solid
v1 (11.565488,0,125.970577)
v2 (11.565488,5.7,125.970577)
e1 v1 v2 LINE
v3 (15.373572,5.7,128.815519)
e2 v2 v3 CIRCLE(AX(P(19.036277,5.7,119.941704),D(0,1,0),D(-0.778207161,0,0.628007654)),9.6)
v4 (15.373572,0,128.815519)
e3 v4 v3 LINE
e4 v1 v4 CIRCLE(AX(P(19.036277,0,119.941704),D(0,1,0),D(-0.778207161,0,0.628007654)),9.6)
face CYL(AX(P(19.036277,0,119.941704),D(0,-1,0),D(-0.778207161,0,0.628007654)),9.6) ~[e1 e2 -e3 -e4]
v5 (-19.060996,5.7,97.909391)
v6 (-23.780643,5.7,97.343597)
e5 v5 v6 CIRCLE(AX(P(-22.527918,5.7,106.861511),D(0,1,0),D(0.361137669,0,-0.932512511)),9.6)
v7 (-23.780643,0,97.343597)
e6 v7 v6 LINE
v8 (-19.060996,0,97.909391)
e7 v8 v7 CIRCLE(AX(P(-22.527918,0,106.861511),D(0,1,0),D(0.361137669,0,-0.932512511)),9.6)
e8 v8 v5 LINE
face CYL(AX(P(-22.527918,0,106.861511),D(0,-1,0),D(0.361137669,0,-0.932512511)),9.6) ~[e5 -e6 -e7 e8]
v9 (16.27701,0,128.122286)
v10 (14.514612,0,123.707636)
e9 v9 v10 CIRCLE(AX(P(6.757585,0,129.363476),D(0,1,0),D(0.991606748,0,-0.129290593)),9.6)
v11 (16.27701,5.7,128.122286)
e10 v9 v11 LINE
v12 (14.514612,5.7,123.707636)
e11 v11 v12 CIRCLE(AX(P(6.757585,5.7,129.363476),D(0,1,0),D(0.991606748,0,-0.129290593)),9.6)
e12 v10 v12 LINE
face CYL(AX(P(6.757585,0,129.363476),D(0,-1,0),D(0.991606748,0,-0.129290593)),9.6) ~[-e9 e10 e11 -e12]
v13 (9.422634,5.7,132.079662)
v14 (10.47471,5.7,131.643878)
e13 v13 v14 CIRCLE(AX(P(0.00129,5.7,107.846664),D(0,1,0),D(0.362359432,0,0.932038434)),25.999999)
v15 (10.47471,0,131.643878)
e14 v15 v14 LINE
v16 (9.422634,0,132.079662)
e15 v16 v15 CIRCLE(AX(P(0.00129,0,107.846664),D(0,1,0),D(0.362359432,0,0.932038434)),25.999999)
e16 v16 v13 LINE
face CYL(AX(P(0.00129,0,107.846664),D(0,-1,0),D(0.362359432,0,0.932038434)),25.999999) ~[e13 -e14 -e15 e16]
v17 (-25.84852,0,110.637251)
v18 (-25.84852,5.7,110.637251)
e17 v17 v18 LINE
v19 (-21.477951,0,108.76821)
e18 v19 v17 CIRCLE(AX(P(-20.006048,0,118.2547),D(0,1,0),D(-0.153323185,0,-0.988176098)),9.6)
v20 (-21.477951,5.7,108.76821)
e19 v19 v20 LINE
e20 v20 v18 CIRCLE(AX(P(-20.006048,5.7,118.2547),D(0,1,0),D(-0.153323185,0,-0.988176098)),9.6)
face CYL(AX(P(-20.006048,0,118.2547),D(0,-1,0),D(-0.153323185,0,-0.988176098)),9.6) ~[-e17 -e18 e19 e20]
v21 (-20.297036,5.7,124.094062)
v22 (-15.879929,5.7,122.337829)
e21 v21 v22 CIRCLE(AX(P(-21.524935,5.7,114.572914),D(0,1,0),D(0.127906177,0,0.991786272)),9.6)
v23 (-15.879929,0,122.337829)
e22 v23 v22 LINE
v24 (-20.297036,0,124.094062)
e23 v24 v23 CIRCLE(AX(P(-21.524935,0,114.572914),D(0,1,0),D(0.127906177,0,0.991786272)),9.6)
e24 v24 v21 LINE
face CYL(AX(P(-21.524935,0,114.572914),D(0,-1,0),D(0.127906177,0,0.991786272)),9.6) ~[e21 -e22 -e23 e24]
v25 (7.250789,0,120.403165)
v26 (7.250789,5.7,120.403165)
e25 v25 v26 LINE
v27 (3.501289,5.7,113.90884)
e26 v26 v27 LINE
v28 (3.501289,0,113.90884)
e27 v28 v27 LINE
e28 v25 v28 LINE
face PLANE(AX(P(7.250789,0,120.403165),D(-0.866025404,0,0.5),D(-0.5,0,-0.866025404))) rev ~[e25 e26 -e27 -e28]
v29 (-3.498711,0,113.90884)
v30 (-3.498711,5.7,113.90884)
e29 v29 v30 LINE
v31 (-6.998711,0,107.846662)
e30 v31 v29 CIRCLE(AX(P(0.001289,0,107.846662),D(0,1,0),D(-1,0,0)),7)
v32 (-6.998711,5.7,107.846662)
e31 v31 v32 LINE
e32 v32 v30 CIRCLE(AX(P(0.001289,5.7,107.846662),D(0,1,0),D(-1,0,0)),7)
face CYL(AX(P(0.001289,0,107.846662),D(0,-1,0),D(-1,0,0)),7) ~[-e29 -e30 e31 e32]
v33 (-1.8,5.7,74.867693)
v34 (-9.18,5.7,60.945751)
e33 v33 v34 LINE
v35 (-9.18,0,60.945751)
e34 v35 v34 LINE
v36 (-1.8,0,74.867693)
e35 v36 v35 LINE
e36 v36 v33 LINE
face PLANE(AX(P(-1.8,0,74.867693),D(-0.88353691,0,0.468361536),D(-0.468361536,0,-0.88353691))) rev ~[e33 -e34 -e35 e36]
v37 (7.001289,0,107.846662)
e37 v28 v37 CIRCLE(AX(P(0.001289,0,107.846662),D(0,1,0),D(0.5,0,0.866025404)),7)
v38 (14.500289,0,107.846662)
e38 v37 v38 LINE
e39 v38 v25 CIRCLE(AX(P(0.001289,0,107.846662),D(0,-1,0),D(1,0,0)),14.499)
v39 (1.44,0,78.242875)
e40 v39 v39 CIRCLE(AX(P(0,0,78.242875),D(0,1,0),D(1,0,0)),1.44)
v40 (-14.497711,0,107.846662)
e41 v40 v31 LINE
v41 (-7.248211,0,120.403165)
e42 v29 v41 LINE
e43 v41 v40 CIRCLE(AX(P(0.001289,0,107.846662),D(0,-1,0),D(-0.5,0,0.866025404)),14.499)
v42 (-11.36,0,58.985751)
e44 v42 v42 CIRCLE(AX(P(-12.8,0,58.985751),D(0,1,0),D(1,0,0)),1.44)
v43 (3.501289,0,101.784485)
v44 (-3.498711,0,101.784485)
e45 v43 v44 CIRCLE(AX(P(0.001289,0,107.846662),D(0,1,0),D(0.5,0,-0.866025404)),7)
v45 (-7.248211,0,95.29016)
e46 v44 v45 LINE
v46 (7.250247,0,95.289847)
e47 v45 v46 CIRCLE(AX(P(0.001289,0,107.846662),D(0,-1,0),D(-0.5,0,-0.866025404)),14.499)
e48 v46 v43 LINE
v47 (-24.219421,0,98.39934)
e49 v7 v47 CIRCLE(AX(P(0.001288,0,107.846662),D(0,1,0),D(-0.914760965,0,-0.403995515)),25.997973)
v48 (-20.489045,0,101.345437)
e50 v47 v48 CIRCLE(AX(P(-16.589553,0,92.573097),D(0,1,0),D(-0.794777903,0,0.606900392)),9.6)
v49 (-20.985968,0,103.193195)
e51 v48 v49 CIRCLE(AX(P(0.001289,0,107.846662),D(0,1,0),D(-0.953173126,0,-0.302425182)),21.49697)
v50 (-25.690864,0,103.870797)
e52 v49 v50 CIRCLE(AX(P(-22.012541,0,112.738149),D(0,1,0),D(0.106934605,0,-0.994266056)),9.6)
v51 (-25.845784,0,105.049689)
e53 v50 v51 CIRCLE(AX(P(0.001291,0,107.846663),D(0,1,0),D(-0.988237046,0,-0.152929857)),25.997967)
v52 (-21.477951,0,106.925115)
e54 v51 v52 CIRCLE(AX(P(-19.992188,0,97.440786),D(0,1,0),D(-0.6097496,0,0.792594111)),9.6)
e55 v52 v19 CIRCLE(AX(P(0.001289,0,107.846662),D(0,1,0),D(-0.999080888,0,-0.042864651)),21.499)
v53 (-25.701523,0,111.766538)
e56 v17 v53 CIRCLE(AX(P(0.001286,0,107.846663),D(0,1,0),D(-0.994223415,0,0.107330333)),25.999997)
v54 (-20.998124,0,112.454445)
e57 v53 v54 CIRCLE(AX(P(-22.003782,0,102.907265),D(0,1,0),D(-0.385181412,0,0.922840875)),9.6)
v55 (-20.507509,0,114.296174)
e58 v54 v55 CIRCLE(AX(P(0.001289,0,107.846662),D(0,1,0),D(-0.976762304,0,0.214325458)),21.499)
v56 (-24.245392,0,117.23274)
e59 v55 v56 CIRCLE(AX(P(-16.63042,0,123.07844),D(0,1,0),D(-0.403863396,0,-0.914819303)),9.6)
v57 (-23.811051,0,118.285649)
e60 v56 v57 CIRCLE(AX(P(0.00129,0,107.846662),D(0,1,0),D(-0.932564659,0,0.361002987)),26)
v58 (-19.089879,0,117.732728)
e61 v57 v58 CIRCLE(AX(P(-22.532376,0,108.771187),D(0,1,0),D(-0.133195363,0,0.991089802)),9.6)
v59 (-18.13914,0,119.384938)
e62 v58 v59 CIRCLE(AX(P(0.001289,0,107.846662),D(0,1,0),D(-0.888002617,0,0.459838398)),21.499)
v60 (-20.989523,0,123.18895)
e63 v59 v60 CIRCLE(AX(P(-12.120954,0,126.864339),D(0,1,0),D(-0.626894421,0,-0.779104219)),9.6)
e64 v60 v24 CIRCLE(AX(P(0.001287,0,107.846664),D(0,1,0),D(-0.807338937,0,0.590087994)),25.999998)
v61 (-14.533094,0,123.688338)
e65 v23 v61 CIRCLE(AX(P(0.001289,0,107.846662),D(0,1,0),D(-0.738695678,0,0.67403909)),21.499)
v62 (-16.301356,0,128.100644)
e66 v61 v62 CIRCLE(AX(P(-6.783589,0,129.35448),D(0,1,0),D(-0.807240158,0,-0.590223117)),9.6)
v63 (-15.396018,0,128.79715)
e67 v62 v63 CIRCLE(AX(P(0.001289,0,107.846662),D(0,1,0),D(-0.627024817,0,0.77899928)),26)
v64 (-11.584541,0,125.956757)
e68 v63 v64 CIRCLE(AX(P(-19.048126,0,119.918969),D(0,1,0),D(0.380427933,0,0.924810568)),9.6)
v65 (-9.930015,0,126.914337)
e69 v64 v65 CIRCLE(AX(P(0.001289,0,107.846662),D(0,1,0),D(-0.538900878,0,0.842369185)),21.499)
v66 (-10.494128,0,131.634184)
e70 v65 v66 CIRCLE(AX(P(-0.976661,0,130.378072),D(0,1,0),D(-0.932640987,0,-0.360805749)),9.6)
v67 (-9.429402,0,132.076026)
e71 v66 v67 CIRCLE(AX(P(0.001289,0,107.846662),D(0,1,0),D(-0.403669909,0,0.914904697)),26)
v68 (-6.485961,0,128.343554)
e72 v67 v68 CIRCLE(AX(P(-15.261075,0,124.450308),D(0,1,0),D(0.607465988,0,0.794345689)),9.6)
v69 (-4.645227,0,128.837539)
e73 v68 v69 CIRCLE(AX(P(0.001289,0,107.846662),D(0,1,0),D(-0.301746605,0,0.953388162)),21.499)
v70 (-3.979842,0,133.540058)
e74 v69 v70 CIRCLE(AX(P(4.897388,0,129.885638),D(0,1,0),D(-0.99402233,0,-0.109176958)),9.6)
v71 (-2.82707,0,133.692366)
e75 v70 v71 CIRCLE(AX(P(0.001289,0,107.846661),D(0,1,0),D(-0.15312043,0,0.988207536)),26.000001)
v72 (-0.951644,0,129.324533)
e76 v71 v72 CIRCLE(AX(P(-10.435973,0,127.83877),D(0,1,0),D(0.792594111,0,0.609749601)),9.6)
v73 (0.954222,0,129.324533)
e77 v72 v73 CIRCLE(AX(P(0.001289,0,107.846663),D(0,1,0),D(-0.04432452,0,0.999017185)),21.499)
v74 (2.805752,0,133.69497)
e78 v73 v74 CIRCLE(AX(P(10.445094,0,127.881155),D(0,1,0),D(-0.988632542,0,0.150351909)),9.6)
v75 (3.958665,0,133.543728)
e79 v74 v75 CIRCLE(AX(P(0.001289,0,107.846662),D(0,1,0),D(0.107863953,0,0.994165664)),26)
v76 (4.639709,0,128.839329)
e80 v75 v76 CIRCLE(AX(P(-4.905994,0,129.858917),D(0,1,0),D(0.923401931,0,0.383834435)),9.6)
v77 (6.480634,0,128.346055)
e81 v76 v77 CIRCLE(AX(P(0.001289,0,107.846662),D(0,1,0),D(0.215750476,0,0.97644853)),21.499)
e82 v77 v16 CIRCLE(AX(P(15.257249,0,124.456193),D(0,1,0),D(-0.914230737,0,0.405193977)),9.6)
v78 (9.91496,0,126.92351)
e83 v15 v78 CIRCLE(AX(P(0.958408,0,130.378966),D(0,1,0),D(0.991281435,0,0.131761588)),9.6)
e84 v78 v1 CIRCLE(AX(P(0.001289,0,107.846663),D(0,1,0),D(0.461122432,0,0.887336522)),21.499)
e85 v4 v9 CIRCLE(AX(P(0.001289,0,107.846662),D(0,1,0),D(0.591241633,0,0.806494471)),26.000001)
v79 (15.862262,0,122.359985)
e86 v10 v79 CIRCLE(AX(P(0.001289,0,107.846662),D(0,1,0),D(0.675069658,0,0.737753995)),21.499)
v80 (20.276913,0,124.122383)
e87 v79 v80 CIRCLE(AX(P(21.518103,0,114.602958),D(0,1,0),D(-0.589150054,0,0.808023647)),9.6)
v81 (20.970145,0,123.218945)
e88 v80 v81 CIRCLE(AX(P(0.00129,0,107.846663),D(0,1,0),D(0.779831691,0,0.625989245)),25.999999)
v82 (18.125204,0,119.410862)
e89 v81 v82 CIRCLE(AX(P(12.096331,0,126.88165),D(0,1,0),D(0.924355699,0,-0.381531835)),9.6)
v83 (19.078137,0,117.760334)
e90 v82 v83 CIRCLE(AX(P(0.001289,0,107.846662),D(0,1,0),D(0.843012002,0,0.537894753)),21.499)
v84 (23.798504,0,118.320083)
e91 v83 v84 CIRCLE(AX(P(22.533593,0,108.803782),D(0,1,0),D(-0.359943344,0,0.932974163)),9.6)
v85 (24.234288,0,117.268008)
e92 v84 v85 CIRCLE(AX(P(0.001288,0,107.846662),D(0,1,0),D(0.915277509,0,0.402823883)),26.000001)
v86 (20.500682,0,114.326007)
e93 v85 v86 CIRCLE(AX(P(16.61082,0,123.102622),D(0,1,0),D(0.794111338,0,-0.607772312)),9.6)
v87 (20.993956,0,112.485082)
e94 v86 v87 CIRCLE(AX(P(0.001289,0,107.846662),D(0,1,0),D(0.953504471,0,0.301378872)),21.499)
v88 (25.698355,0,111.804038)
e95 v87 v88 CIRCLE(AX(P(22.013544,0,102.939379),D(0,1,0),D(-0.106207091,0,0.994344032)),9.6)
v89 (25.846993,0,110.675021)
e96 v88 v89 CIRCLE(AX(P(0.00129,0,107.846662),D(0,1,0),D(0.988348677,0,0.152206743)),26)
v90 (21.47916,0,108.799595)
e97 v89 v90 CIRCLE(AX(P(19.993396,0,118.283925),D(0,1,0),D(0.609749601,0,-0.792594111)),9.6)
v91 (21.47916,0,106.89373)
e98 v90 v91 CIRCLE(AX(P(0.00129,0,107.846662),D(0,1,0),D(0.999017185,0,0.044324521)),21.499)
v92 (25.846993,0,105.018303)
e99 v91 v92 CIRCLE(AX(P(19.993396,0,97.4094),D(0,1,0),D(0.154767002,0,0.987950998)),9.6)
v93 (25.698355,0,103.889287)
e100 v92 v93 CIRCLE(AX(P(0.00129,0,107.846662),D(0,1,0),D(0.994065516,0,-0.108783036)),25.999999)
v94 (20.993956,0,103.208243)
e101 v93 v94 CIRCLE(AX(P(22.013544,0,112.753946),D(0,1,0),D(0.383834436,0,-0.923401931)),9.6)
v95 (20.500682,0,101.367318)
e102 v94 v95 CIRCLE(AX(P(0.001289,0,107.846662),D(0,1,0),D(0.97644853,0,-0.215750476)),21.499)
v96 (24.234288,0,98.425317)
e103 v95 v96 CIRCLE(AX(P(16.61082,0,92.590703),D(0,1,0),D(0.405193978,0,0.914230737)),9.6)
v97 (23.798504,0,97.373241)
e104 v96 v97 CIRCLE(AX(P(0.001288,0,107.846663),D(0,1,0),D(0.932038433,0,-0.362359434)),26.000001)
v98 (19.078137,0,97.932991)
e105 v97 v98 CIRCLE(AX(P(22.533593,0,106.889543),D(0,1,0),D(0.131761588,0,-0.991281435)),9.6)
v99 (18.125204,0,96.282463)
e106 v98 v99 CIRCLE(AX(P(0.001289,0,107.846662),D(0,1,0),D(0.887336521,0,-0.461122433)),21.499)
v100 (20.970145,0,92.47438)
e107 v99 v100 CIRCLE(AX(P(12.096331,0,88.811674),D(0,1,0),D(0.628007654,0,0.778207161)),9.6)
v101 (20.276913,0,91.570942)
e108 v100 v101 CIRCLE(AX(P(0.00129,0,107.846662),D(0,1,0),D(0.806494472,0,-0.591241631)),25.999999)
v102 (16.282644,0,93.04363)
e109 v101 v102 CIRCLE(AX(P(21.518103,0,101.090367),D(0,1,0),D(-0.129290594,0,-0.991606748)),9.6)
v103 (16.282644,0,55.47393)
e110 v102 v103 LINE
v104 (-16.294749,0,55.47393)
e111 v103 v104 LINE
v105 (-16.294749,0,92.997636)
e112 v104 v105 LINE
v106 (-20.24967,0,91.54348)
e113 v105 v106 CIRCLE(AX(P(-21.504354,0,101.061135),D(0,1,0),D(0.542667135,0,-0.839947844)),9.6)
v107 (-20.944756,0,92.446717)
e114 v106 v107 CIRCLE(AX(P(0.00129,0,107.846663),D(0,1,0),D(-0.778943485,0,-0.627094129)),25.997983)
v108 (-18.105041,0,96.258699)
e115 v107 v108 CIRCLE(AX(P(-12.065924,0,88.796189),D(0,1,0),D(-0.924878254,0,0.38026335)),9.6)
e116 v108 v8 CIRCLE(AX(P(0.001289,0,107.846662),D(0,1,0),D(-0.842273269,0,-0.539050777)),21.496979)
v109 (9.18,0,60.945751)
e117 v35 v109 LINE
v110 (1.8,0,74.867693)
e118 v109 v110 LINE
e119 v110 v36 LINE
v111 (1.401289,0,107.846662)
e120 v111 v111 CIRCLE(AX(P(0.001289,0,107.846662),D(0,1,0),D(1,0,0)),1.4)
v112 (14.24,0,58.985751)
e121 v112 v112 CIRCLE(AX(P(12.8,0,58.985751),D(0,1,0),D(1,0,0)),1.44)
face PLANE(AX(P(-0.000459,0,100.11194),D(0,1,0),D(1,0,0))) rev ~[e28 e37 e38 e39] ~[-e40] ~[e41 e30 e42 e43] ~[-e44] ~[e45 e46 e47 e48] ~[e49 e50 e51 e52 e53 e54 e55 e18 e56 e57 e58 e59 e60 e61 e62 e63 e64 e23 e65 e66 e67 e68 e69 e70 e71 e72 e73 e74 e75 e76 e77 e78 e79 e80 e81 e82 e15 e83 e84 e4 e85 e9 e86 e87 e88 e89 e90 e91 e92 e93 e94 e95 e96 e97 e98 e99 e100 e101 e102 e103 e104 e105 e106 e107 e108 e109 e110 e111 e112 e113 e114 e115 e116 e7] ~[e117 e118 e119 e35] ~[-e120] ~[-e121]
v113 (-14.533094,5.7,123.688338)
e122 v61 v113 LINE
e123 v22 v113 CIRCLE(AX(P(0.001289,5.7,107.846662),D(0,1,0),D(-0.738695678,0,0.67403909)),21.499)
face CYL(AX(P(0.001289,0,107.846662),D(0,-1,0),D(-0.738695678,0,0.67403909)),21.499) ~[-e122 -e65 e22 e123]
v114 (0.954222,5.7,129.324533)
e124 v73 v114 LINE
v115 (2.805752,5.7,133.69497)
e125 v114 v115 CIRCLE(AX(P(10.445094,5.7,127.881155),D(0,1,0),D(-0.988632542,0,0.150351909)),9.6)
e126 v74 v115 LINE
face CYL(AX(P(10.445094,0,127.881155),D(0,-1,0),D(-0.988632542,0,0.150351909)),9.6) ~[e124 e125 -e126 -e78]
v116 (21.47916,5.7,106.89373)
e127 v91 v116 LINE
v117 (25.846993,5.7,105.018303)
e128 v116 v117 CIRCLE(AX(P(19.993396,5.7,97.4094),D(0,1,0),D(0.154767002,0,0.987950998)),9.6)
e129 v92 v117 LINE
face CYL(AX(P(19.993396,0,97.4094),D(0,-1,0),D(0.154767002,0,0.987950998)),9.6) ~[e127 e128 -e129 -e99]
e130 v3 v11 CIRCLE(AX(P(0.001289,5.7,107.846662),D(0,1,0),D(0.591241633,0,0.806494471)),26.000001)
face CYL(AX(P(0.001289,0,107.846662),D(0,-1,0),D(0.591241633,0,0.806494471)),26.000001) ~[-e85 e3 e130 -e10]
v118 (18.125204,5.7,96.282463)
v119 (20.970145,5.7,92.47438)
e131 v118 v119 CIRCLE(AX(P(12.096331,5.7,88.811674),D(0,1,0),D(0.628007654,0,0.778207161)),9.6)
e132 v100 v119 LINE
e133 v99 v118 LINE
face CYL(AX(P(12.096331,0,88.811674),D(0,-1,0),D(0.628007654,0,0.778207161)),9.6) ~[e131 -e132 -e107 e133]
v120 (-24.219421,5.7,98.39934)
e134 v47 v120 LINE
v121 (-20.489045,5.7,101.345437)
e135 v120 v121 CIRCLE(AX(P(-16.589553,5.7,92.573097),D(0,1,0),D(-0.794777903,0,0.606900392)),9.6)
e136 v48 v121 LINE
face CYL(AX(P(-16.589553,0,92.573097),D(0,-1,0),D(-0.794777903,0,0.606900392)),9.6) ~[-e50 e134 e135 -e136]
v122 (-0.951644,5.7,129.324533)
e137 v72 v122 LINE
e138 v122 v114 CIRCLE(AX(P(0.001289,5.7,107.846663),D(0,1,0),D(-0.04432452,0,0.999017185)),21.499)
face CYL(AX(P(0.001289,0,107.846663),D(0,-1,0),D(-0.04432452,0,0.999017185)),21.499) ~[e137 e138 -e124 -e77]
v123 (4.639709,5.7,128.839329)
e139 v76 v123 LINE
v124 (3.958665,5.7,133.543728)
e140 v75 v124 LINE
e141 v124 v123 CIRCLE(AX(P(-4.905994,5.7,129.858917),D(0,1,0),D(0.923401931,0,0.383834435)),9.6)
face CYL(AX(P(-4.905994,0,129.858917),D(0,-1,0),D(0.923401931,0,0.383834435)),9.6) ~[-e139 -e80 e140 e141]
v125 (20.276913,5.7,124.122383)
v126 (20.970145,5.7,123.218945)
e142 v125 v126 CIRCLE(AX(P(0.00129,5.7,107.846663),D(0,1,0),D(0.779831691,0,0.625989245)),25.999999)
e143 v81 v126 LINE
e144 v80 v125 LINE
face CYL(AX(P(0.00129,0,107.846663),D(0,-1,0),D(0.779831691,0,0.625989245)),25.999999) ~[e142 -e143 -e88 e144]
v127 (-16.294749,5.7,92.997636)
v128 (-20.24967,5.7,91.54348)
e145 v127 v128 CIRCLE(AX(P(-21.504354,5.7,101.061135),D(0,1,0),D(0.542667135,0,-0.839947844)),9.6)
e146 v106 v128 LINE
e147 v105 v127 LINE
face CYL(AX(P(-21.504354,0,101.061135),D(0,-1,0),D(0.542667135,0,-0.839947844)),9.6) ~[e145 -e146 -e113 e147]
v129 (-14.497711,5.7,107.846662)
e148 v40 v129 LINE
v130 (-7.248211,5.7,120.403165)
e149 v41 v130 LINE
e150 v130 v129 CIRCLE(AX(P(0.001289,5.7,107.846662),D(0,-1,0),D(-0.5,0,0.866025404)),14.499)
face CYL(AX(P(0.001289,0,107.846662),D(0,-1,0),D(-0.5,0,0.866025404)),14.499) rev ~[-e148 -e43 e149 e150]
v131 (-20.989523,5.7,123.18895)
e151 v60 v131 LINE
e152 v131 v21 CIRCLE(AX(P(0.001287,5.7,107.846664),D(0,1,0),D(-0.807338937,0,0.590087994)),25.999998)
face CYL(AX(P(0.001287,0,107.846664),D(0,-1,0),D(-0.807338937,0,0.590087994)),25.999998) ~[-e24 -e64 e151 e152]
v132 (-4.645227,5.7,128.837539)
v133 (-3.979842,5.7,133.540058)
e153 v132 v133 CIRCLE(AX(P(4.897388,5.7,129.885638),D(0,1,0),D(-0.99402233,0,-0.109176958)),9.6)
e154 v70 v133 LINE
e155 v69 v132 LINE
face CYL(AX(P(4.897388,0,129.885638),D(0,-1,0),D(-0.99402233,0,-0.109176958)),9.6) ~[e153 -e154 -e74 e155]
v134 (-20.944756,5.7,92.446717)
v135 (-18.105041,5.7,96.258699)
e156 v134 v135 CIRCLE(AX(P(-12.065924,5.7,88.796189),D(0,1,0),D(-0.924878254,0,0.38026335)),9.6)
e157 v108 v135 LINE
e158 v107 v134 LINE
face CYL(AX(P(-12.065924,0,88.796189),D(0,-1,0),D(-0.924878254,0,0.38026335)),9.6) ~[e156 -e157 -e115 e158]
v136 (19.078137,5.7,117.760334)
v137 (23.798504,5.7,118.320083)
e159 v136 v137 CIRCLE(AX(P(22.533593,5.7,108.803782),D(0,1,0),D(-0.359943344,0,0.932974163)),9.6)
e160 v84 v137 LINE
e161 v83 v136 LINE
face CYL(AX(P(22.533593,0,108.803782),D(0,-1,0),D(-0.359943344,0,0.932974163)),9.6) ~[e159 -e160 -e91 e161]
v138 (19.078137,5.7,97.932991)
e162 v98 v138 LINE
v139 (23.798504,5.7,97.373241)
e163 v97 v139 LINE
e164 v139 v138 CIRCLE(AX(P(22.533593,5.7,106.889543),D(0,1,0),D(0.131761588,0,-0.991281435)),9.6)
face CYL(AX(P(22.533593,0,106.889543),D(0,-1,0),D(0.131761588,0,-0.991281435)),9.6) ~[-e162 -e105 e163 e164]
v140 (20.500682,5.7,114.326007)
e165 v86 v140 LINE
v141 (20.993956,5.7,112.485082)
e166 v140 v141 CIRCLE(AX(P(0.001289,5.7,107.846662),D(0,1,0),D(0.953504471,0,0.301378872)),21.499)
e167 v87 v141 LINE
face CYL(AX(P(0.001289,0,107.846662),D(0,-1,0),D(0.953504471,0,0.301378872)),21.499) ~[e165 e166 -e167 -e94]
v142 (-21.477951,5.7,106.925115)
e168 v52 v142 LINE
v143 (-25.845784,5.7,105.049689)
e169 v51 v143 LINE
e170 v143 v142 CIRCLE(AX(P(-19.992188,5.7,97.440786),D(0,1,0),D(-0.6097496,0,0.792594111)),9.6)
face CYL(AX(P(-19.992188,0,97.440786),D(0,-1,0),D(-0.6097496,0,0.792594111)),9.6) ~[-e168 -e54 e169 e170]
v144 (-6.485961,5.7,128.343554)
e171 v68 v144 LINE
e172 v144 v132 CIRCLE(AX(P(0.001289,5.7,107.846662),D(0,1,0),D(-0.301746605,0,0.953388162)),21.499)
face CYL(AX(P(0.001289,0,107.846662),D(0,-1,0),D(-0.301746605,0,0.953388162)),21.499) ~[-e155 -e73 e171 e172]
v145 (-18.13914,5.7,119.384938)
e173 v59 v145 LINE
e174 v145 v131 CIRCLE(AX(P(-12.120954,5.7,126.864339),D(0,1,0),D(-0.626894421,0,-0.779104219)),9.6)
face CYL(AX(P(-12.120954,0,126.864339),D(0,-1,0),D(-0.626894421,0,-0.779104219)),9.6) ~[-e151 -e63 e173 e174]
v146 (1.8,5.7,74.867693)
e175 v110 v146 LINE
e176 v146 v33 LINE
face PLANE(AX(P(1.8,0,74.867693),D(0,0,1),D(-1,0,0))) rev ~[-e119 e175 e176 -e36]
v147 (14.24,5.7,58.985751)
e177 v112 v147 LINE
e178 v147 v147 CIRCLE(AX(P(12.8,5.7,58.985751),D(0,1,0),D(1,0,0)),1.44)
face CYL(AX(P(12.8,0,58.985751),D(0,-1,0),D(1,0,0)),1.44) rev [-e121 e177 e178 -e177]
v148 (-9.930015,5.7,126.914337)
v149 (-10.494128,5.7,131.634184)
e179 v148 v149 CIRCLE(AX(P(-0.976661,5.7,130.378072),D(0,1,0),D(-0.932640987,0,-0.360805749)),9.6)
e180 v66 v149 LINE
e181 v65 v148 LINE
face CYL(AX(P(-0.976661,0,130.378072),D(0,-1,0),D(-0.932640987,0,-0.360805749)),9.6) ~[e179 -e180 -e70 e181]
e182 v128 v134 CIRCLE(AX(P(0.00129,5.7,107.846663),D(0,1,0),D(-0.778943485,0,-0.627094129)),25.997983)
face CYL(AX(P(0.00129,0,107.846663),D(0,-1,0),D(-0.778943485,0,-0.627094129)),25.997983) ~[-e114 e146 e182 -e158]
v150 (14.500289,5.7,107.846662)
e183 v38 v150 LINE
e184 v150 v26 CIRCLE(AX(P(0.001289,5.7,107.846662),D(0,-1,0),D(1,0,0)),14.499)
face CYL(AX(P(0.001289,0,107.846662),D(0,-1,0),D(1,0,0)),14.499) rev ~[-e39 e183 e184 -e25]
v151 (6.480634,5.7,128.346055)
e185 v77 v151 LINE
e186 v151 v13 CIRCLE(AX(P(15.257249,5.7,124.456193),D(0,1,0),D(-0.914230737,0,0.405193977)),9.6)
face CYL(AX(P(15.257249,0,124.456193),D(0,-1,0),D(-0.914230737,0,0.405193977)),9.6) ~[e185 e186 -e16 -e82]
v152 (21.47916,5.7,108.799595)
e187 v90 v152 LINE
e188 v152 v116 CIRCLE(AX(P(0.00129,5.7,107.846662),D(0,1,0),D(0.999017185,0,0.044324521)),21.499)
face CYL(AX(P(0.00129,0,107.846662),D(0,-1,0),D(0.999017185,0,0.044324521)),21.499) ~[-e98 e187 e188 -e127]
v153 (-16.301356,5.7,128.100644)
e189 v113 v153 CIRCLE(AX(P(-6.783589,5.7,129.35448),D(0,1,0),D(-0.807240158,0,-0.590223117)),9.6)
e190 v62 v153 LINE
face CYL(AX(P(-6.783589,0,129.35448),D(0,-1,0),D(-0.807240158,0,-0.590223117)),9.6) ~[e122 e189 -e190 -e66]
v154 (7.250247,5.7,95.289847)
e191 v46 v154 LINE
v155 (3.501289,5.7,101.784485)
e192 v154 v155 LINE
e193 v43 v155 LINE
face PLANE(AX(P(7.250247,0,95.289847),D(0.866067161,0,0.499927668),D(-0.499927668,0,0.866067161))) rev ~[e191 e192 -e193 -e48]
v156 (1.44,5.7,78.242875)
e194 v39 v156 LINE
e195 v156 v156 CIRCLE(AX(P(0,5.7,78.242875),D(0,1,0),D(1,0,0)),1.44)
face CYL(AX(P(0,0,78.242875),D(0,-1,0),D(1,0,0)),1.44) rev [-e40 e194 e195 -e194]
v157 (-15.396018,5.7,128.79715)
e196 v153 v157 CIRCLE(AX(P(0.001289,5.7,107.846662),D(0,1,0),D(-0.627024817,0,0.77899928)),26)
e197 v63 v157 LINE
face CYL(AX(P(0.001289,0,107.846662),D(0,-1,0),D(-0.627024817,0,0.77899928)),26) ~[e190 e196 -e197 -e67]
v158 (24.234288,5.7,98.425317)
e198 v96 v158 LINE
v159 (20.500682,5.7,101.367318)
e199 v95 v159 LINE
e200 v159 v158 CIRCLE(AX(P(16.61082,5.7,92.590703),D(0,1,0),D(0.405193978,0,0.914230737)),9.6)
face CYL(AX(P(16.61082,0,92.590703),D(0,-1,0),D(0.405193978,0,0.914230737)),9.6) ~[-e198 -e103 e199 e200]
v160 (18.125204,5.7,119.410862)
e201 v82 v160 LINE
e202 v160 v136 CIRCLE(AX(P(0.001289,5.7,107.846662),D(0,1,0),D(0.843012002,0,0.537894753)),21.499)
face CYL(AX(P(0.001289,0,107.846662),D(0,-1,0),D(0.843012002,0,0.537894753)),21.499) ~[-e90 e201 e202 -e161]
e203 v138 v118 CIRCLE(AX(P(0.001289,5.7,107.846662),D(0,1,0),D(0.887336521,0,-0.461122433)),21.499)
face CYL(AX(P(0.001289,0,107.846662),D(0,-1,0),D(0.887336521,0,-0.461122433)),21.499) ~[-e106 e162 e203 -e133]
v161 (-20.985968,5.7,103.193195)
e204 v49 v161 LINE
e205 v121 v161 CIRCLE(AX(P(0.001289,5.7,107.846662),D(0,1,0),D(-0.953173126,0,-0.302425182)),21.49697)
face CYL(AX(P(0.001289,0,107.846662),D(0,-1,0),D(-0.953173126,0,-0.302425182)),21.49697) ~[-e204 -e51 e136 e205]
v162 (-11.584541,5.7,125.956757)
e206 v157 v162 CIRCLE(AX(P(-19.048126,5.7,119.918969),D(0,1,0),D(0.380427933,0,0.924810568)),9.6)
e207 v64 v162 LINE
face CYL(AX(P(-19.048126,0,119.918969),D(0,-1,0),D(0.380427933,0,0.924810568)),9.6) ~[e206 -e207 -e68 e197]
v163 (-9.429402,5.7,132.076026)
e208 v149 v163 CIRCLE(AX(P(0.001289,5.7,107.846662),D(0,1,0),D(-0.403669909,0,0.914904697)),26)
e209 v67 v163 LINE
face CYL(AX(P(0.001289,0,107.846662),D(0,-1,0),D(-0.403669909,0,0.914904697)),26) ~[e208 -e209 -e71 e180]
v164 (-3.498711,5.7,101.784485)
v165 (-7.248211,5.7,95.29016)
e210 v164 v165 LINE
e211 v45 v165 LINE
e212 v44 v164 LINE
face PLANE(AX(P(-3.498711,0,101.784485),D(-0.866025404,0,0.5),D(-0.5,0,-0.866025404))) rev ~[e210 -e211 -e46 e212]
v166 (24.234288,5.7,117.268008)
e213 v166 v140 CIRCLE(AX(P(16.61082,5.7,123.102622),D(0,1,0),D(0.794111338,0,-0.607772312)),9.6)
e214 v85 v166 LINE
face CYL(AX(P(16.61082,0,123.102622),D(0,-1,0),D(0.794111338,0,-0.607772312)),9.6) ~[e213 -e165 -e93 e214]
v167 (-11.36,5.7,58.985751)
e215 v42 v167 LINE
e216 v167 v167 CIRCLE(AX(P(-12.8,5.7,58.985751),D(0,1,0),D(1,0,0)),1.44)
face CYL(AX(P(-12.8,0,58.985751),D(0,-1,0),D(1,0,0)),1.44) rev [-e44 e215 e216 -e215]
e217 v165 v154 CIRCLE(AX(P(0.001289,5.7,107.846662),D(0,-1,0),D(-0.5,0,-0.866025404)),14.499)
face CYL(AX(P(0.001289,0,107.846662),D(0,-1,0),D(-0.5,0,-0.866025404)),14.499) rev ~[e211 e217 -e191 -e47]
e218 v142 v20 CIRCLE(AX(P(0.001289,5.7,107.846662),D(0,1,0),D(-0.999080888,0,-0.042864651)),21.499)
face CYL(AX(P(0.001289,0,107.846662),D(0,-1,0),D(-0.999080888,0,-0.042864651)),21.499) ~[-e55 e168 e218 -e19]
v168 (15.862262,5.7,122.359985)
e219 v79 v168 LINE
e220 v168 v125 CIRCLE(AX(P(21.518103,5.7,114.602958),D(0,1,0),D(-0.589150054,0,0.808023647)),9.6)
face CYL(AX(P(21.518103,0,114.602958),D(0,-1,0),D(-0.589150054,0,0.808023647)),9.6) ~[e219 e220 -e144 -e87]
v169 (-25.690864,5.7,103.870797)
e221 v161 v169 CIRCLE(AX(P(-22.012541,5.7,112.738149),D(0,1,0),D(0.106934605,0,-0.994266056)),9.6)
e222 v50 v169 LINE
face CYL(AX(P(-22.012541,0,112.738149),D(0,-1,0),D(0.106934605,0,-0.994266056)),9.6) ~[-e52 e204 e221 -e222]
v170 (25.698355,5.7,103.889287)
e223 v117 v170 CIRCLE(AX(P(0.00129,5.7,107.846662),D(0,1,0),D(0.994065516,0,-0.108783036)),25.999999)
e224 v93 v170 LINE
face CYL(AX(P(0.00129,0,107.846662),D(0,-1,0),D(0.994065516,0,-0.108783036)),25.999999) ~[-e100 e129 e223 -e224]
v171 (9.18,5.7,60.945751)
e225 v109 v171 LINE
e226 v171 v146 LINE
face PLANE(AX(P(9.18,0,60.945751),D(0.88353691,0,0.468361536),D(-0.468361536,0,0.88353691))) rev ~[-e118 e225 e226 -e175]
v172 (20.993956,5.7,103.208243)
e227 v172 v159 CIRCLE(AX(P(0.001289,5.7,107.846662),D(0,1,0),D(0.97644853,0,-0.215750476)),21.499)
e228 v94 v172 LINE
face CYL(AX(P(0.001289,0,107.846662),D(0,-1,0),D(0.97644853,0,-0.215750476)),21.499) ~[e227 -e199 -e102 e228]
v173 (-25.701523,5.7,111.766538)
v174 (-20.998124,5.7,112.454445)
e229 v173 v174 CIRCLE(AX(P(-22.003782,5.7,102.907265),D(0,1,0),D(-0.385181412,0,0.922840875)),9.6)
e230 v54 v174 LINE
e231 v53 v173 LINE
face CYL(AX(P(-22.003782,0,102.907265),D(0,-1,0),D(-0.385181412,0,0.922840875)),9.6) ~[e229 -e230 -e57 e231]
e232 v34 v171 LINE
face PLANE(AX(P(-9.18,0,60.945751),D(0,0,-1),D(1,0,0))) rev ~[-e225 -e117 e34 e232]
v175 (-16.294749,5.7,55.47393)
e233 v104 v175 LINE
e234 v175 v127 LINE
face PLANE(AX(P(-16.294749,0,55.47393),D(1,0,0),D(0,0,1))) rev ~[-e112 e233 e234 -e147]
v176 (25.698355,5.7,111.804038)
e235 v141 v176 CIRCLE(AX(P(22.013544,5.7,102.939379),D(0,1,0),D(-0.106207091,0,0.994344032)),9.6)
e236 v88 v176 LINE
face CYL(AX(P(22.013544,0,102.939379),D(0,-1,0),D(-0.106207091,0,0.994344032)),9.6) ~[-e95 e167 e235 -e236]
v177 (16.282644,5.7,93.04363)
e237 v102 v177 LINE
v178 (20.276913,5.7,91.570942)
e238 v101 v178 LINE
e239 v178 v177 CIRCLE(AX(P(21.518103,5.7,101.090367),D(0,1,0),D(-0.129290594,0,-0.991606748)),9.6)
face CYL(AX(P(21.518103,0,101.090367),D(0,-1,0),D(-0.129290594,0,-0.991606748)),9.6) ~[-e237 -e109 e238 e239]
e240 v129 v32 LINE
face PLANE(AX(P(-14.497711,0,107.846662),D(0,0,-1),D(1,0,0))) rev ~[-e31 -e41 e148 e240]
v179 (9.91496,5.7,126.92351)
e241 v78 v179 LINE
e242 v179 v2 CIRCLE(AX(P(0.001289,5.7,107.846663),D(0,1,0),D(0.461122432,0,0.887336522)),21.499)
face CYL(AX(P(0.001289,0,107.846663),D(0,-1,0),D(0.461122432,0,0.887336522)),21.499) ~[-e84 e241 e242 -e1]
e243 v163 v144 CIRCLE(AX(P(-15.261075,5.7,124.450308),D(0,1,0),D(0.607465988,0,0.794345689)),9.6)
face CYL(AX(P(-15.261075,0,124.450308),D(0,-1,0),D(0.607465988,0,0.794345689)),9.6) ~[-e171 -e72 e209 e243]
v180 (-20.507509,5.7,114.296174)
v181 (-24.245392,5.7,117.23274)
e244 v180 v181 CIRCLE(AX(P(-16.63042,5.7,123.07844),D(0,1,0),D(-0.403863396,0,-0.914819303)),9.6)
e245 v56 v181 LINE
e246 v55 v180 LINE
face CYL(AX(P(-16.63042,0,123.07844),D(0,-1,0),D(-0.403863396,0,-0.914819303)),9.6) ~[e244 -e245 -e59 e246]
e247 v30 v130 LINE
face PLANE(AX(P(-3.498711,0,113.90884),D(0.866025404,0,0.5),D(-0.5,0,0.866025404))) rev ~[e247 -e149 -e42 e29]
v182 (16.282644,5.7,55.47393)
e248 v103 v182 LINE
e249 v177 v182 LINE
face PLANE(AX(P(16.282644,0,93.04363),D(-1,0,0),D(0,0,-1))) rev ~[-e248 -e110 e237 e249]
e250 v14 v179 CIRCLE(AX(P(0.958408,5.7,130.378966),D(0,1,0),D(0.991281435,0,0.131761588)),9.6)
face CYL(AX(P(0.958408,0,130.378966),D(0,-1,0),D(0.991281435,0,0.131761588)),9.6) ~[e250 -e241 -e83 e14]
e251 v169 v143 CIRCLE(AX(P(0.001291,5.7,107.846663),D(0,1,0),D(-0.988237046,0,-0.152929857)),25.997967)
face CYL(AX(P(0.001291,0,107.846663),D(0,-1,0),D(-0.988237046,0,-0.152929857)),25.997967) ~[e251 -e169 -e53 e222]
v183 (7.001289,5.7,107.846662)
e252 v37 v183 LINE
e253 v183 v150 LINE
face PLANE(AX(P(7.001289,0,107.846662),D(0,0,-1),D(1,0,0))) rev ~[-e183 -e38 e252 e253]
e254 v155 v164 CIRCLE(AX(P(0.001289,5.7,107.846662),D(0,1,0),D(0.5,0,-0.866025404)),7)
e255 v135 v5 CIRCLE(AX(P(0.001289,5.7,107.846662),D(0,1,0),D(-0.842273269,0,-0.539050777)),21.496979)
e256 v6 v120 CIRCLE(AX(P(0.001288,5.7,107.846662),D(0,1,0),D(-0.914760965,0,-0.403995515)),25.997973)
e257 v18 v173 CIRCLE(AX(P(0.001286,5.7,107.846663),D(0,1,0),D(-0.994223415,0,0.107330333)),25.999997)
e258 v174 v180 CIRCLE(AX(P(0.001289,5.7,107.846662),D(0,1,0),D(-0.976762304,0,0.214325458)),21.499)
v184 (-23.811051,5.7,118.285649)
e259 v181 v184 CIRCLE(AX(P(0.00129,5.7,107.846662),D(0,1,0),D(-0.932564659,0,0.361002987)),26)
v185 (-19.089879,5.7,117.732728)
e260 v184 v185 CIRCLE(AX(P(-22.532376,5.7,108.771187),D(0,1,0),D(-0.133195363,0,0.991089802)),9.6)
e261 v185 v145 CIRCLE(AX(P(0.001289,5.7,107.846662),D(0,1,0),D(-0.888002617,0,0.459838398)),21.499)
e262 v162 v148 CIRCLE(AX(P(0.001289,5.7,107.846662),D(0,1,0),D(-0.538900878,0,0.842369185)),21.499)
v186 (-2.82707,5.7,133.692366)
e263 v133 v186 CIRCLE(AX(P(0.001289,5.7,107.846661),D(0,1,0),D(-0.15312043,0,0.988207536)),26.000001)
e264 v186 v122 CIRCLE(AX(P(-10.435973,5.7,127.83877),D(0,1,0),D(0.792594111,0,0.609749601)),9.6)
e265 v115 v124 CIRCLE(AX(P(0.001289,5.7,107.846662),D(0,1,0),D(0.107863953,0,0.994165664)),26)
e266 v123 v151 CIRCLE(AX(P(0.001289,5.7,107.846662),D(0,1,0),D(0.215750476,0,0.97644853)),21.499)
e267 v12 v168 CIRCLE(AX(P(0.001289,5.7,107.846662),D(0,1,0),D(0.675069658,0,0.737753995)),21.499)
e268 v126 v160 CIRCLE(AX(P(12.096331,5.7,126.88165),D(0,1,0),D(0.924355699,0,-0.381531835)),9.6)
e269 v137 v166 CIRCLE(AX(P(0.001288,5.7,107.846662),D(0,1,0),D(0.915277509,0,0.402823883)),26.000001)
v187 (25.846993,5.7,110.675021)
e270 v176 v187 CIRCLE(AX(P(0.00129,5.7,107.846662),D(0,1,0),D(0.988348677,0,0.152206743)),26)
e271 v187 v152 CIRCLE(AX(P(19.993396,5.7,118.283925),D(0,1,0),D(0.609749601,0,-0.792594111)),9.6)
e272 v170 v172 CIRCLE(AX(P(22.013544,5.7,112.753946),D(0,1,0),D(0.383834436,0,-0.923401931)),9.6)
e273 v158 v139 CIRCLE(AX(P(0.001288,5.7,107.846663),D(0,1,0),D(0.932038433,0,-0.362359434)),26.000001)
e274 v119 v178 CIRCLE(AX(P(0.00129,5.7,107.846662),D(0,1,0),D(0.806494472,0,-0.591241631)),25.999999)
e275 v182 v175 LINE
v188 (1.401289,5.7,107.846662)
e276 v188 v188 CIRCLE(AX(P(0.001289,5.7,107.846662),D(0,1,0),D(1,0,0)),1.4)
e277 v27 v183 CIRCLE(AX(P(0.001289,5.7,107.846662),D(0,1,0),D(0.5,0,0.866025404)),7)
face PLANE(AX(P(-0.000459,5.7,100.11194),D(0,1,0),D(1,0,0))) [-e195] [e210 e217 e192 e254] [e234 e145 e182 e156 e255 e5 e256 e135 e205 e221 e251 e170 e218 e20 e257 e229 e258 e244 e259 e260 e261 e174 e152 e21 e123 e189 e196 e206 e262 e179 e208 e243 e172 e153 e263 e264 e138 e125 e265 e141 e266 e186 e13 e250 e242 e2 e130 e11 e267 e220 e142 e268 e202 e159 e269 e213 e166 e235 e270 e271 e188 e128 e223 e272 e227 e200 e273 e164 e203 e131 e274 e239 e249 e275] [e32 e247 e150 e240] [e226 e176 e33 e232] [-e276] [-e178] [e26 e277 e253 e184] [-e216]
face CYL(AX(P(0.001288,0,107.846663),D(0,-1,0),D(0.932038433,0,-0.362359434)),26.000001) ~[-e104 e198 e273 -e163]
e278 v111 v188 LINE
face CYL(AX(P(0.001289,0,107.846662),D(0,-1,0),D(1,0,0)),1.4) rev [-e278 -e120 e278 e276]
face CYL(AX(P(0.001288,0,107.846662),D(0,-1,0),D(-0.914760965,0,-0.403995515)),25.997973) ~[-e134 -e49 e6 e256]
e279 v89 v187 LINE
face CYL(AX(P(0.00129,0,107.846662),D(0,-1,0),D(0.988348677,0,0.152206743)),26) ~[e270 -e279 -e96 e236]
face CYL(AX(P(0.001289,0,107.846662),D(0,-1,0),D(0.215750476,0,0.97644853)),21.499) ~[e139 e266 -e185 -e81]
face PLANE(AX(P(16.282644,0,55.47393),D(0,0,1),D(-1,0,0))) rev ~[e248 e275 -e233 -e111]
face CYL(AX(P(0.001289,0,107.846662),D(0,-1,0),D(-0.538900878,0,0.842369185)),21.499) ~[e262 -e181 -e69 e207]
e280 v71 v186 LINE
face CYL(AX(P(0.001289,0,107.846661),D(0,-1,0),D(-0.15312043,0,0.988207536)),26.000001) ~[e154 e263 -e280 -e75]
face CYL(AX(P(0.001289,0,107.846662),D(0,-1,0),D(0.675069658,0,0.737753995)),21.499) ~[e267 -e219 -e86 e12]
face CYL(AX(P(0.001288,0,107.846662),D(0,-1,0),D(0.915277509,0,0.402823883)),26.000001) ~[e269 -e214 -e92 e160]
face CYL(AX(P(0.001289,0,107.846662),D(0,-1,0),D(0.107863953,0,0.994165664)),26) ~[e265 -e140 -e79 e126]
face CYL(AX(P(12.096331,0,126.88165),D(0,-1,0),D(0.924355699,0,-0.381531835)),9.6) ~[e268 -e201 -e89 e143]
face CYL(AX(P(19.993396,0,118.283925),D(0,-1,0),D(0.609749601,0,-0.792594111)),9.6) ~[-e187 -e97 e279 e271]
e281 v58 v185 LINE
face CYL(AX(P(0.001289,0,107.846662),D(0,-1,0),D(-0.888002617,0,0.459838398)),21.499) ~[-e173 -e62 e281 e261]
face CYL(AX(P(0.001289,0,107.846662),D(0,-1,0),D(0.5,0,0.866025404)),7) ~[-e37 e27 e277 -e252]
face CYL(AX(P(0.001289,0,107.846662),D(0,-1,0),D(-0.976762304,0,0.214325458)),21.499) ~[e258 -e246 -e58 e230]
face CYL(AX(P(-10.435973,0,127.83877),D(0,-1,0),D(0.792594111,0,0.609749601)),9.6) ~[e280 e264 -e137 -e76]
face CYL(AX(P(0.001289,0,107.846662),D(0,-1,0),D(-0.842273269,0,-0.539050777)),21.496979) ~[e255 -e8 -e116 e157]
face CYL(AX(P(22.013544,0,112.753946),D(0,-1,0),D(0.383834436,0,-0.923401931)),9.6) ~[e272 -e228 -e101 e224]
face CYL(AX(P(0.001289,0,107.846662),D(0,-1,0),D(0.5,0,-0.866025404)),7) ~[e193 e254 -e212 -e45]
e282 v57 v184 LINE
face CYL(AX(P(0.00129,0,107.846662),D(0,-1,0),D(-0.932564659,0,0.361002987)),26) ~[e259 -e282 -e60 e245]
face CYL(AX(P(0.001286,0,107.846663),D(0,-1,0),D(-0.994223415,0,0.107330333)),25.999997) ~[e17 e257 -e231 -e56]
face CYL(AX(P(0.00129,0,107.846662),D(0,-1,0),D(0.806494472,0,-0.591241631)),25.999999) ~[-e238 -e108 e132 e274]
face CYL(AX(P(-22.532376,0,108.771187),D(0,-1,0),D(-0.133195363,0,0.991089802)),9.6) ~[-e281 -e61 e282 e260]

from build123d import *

# Parameters (mm, degrees)
SKETCH1_R           = 1.4
SKETCH1_R_2         = 1.44
BOSS_EXTRUDE2_DEPTH = 5.7


with BuildPart() as part:
    # Sketch1 → Boss-Extrude2 (new body)
    with BuildSketch(Plane(origin=(0, 0, 0), x_dir=(1, 0, 0), z_dir=(0, 1, 0))):
        with BuildLine():
            Line((16.282643734, -55.473929669), (-16.294749294, -55.473929669))
            Line((-16.294749294, -55.473929669), (-16.294749294, -92.997636196))
            ThreePointArc((-16.294749294, -92.997636196), (-18.191440049, -92.050885637), (-20.249670305, -91.543479832))
            ThreePointArc((-20.249670305, -91.543479832), (-20.602163218, -91.991288827), (-20.944755668, -92.446716717))
            ThreePointArc((-20.944755668, -92.446716717), (-19.764567011, -94.531247615), (-18.105041425, -96.258699254))
            ThreePointArc((-18.105041425, -96.258699254), (-18.601337045, -97.073436545), (-19.060996376, -97.909390787))
            ThreePointArc((-19.060996376, -97.909390787), (-21.385246964, -97.329758545), (-23.780643137, -97.343597276))
            ThreePointArc((-23.780643137, -97.343597276), (-24.005836083, -97.869056559), (-24.219420722, -98.399340372))
            ThreePointArc((-24.219420722, -98.399340372), (-22.53946113, -100.106926418), (-20.489045224, -101.345437195))
            ThreePointArc((-20.489045224, -101.345437195), (-20.758075202, -102.263784688), (-20.985968299, -103.193195246))
            ThreePointArc((-20.985968299, -103.193195246), (-23.3810186, -103.236188129), (-25.690864, -103.870797115))
            ThreePointArc((-25.690864, -103.870797115), (-25.775064405, -104.459357336), (-25.845783772, -105.049689119))
            ThreePointArc((-25.845783772, -105.049689119), (-23.779779823, -106.262018289), (-21.477950818, -106.92511524))
            ThreePointArc((-21.477950818, -106.92511524), (-21.497710797, -107.846662377), (-21.477950818, -108.768209514))
            ThreePointArc((-21.477950818, -108.768209514), (-23.780746321, -109.427942192), (-25.848519588, -110.637251105))
            ThreePointArc((-25.848519588, -110.637251105), (-25.781205181, -111.202699229), (-25.701523459, -111.766537533))
            ThreePointArc((-25.701523459, -111.766537533), (-23.393073925, -112.406205481), (-20.998123562, -112.454445414))
            ThreePointArc((-20.998123562, -112.454445414), (-20.773235617, -113.38074943), (-20.507508787, -114.296174451))
            ThreePointArc((-20.507508787, -114.296174451), (-22.561079267, -115.529447584), (-24.245391936, -117.232740033))
            ThreePointArc((-24.245391936, -117.232740033), (-24.033987825, -117.761573279), (-23.811051179, -118.285649183))
            ThreePointArc((-23.811051179, -118.285649183), (-21.415701651, -118.306020019), (-19.089879068, -117.732728078))
            ThreePointArc((-19.089879068, -117.732728078), (-18.6328306, -118.56937566), (-18.139140457, -119.384938363))
            ThreePointArc((-18.139140457, -119.384938363), (-19.803499131, -121.107733922), (-20.989523145, -123.188950243))
            ThreePointArc((-20.989523145, -123.188950243), (-20.6482393, -123.645300692), (-20.297036031, -124.094061943))
            ThreePointArc((-20.297036031, -124.094061943), (-17.978064026, -123.493659436), (-15.879929184, -122.337828774))
            ThreePointArc((-15.879929184, -122.337828774), (-15.221495643, -123.028026694), (-14.533094291, -123.688338344))
            ThreePointArc((-14.533094291, -123.688338344), (-15.694637363, -125.783316155), (-16.301356047, -128.100643661))
            ThreePointArc((-16.301356047, -128.100643661), (-15.852512396, -128.453869244), (-15.396017905, -128.797150052))
            ThreePointArc((-15.396017905, -128.797150052), (-13.311697063, -127.616590454), (-11.584540779, -125.95675748))
            ThreePointArc((-11.584540779, -125.95675748), (-10.767926313, -126.453945848), (-9.930014765, -126.914336658))
            ThreePointArc((-9.930014765, -126.914336658), (-10.50881973, -129.2387934), (-10.494128437, -131.634184496))
            ThreePointArc((-10.494128437, -131.634184496), (-9.96421413, -131.861006909), (-9.429401724, -132.076026145))
            ThreePointArc((-9.429401724, -132.076026145), (-7.723011964, -130.394851461), (-6.485961057, -128.34355446))
            ThreePointArc((-6.485961057, -128.34355446), (-5.571070397, -128.610954069), (-4.645226545, -128.837538785))
            ThreePointArc((-4.645226545, -128.837538785), (-4.607931078, -131.230595815), (-3.979841993, -133.540058306))
            ThreePointArc((-3.979841993, -133.540058306), (-3.404307437, -133.622657246), (-2.827069767, -133.692365802))
            ThreePointArc((-2.827069767, -133.692365802), (-1.614740596, -131.626361853), (-0.951643646, -129.324532848))
            ThreePointArc((-0.951643646, -129.324532848), (0.001289203, -129.345662377), (0.954222052, -129.324532848))
            ThreePointArc((0.954222052, -129.324532848), (1.605623598, -131.625984951), (2.805751963, -133.694969645))
            ThreePointArc((2.805751963, -133.694969645), (3.383053833, -133.62579479), (3.958664509, -133.543727981))
            ThreePointArc((3.958664509, -133.543727981), (4.594963395, -131.234347532), (4.63970868, -128.839329329))
            ThreePointArc((4.63970868, -128.839329329), (5.565639854, -128.613101716), (6.480633579, -128.346054989))
            ThreePointArc((6.480633579, -128.346054989), (7.716893233, -130.397828953), (9.422634458, -132.079661646))
            ThreePointArc((9.422634458, -132.079661646), (9.951058445, -131.867530222), (10.474710197, -131.643877606))
            ThreePointArc((10.474710197, -131.643877606), (10.491616082, -129.248501117), (9.914960384, -126.923510248))
            ThreePointArc((9.914960384, -126.923510248), (10.750789203, -126.465342533), (11.565488494, -125.9705774))
            ThreePointArc((11.565488494, -125.9705774), (13.290661801, -127.632471318), (15.373571634, -128.815518637))
            ThreePointArc((15.373571634, -128.815518637), (15.829086357, -128.473849224), (16.277009552, -128.12228634))
            ThreePointArc((16.277009552, -128.12228634), (15.673370328, -125.804154761), (14.514611779, -123.707635512))
            ThreePointArc((14.514611779, -123.707635512), (15.203377892, -123.048751065), (15.862262338, -122.359984953))
            ThreePointArc((15.862262338, -122.359984953), (17.958781587, -123.518743501), (20.276913167, -124.122382726))
            ThreePointArc((20.276913167, -124.122382726), (20.628476051, -123.674459531), (20.970145463, -123.218944808))
            ThreePointArc((20.970145463, -123.218944808), (19.787098144, -121.136034974), (18.125204226, -119.410861668))
            ThreePointArc((18.125204226, -119.410861668), (18.619969359, -118.596162377), (19.078137075, -117.760333557))
            ThreePointArc((19.078137075, -117.760333557), (21.403127944, -118.336989255), (23.798504433, -118.32008337))
            ThreePointArc((23.798504433, -118.32008337), (24.022157048, -117.796431618), (24.234288472, -117.268007632))
            ThreePointArc((24.234288472, -117.268007632), (22.552455779, -115.562266407), (20.500681815, -114.326006752))
            ThreePointArc((20.500681815, -114.326006752), (20.767728542, -113.411013027), (20.993956155, -112.485081853))
            ThreePointArc((20.993956155, -112.485081853), (23.388974358, -112.440336569), (25.698354808, -111.804037682))
            ThreePointArc((25.698354808, -111.804037682), (25.778855599, -111.240343374), (25.846992628, -110.675021347))
            ThreePointArc((25.846992628, -110.675021347), (23.780988679, -109.462692176), (21.479159674, -108.799595225))
            ThreePointArc((21.479159674, -108.799595225), (21.500289203, -107.846662377), (21.479159674, -106.893729528))
            ThreePointArc((21.479159674, -106.893729528), (23.780988679, -106.230632577), (25.846992628, -105.018303407))
            ThreePointArc((25.846992628, -105.018303407), (25.778855599, -104.452981379), (25.698354808, -103.889287071))
            ThreePointArc((25.698354808, -103.889287071), (23.388974358, -103.252988184), (20.993956155, -103.2082429))
            ThreePointArc((20.993956155, -103.2082429), (20.767728542, -102.282311726), (20.500681815, -101.367318001))
            ThreePointArc((20.500681815, -101.367318001), (22.552455779, -100.131058346), (24.234288472, -98.425317121))
            ThreePointArc((24.234288472, -98.425317121), (24.022157048, -97.896893135), (23.798504433, -97.373241383))
            ThreePointArc((23.798504433, -97.373241383), (21.403127944, -97.356335498), (19.078137075, -97.932991196))
            ThreePointArc((19.078137075, -97.932991196), (18.619969359, -97.097162377), (18.125204226, -96.282463086))
            ThreePointArc((18.125204226, -96.282463086), (19.787098144, -94.557289779), (20.970145463, -92.474379945))
            ThreePointArc((20.970145463, -92.474379945), (20.628476051, -92.018865222), (20.276913167, -91.570942027))
            ThreePointArc((20.276913167, -91.570942027), (18.197116907, -92.083089067), (16.282643734, -93.043630342))
            Line((16.282643734, -93.043630342), (16.282643734, -55.473929669))
        make_face()
        with BuildLine():
            ThreePointArc((-6.998710797, -107.846662377), (-6.060888623, -111.346662377), (-3.498710797, -113.908840203))
            Line((-3.498710797, -113.908840203), (-7.248210797, -120.403164706))
            ThreePointArc((-7.248210797, -120.403164706), (-12.555213127, -115.096162377), (-14.497710797, -107.846662377))
            Line((-14.497710797, -107.846662377), (-6.998710797, -107.846662377))
        make_face(mode=Mode.SUBTRACT)
        with Locations((0.001289203, -107.846662377)):
            Circle(SKETCH1_R, mode=Mode.SUBTRACT)
        with BuildLine():
            Line((7.250789203, -120.403164706), (3.501289203, -113.908840203))
            ThreePointArc((3.501289203, -113.908840203), (6.06346703, -111.346662377), (7.001289203, -107.846662377))
            Line((7.001289203, -107.846662377), (14.500289203, -107.846662377))
            ThreePointArc((14.500289203, -107.846662377), (12.557791533, -115.096162377), (7.250789203, -120.403164706))
        make_face(mode=Mode.SUBTRACT)
        with BuildLine():
            Line((7.250246793, -95.289846902), (3.501289203, -101.78448455))
            ThreePointArc((3.501289203, -101.78448455), (0.001289203, -100.846662377), (-3.498710797, -101.78448455))
            Line((-3.498710797, -101.78448455), (-7.248210797, -95.290160047))
            ThreePointArc((-7.248210797, -95.290160047), (0.000976046, -93.34766238), (7.250246793, -95.289846902))
        make_face(mode=Mode.SUBTRACT)
        with Locations((-12.8, -58.985750662)):
            Circle(SKETCH1_R_2, mode=Mode.SUBTRACT)
        with Locations((0, -78.242875331)):
            Circle(SKETCH1_R_2, mode=Mode.SUBTRACT)
        Polygon((-1.8, -74.867693206), (-9.18, -60.945750662), (9.18, -60.945750662), (1.8, -74.867693206), align=None, mode=Mode.SUBTRACT)
        with Locations((12.8, -58.985750662)):
            Circle(SKETCH1_R_2, mode=Mode.SUBTRACT)
    extrude(amount=BOSS_EXTRUDE2_DEPTH)


solid = part.part
